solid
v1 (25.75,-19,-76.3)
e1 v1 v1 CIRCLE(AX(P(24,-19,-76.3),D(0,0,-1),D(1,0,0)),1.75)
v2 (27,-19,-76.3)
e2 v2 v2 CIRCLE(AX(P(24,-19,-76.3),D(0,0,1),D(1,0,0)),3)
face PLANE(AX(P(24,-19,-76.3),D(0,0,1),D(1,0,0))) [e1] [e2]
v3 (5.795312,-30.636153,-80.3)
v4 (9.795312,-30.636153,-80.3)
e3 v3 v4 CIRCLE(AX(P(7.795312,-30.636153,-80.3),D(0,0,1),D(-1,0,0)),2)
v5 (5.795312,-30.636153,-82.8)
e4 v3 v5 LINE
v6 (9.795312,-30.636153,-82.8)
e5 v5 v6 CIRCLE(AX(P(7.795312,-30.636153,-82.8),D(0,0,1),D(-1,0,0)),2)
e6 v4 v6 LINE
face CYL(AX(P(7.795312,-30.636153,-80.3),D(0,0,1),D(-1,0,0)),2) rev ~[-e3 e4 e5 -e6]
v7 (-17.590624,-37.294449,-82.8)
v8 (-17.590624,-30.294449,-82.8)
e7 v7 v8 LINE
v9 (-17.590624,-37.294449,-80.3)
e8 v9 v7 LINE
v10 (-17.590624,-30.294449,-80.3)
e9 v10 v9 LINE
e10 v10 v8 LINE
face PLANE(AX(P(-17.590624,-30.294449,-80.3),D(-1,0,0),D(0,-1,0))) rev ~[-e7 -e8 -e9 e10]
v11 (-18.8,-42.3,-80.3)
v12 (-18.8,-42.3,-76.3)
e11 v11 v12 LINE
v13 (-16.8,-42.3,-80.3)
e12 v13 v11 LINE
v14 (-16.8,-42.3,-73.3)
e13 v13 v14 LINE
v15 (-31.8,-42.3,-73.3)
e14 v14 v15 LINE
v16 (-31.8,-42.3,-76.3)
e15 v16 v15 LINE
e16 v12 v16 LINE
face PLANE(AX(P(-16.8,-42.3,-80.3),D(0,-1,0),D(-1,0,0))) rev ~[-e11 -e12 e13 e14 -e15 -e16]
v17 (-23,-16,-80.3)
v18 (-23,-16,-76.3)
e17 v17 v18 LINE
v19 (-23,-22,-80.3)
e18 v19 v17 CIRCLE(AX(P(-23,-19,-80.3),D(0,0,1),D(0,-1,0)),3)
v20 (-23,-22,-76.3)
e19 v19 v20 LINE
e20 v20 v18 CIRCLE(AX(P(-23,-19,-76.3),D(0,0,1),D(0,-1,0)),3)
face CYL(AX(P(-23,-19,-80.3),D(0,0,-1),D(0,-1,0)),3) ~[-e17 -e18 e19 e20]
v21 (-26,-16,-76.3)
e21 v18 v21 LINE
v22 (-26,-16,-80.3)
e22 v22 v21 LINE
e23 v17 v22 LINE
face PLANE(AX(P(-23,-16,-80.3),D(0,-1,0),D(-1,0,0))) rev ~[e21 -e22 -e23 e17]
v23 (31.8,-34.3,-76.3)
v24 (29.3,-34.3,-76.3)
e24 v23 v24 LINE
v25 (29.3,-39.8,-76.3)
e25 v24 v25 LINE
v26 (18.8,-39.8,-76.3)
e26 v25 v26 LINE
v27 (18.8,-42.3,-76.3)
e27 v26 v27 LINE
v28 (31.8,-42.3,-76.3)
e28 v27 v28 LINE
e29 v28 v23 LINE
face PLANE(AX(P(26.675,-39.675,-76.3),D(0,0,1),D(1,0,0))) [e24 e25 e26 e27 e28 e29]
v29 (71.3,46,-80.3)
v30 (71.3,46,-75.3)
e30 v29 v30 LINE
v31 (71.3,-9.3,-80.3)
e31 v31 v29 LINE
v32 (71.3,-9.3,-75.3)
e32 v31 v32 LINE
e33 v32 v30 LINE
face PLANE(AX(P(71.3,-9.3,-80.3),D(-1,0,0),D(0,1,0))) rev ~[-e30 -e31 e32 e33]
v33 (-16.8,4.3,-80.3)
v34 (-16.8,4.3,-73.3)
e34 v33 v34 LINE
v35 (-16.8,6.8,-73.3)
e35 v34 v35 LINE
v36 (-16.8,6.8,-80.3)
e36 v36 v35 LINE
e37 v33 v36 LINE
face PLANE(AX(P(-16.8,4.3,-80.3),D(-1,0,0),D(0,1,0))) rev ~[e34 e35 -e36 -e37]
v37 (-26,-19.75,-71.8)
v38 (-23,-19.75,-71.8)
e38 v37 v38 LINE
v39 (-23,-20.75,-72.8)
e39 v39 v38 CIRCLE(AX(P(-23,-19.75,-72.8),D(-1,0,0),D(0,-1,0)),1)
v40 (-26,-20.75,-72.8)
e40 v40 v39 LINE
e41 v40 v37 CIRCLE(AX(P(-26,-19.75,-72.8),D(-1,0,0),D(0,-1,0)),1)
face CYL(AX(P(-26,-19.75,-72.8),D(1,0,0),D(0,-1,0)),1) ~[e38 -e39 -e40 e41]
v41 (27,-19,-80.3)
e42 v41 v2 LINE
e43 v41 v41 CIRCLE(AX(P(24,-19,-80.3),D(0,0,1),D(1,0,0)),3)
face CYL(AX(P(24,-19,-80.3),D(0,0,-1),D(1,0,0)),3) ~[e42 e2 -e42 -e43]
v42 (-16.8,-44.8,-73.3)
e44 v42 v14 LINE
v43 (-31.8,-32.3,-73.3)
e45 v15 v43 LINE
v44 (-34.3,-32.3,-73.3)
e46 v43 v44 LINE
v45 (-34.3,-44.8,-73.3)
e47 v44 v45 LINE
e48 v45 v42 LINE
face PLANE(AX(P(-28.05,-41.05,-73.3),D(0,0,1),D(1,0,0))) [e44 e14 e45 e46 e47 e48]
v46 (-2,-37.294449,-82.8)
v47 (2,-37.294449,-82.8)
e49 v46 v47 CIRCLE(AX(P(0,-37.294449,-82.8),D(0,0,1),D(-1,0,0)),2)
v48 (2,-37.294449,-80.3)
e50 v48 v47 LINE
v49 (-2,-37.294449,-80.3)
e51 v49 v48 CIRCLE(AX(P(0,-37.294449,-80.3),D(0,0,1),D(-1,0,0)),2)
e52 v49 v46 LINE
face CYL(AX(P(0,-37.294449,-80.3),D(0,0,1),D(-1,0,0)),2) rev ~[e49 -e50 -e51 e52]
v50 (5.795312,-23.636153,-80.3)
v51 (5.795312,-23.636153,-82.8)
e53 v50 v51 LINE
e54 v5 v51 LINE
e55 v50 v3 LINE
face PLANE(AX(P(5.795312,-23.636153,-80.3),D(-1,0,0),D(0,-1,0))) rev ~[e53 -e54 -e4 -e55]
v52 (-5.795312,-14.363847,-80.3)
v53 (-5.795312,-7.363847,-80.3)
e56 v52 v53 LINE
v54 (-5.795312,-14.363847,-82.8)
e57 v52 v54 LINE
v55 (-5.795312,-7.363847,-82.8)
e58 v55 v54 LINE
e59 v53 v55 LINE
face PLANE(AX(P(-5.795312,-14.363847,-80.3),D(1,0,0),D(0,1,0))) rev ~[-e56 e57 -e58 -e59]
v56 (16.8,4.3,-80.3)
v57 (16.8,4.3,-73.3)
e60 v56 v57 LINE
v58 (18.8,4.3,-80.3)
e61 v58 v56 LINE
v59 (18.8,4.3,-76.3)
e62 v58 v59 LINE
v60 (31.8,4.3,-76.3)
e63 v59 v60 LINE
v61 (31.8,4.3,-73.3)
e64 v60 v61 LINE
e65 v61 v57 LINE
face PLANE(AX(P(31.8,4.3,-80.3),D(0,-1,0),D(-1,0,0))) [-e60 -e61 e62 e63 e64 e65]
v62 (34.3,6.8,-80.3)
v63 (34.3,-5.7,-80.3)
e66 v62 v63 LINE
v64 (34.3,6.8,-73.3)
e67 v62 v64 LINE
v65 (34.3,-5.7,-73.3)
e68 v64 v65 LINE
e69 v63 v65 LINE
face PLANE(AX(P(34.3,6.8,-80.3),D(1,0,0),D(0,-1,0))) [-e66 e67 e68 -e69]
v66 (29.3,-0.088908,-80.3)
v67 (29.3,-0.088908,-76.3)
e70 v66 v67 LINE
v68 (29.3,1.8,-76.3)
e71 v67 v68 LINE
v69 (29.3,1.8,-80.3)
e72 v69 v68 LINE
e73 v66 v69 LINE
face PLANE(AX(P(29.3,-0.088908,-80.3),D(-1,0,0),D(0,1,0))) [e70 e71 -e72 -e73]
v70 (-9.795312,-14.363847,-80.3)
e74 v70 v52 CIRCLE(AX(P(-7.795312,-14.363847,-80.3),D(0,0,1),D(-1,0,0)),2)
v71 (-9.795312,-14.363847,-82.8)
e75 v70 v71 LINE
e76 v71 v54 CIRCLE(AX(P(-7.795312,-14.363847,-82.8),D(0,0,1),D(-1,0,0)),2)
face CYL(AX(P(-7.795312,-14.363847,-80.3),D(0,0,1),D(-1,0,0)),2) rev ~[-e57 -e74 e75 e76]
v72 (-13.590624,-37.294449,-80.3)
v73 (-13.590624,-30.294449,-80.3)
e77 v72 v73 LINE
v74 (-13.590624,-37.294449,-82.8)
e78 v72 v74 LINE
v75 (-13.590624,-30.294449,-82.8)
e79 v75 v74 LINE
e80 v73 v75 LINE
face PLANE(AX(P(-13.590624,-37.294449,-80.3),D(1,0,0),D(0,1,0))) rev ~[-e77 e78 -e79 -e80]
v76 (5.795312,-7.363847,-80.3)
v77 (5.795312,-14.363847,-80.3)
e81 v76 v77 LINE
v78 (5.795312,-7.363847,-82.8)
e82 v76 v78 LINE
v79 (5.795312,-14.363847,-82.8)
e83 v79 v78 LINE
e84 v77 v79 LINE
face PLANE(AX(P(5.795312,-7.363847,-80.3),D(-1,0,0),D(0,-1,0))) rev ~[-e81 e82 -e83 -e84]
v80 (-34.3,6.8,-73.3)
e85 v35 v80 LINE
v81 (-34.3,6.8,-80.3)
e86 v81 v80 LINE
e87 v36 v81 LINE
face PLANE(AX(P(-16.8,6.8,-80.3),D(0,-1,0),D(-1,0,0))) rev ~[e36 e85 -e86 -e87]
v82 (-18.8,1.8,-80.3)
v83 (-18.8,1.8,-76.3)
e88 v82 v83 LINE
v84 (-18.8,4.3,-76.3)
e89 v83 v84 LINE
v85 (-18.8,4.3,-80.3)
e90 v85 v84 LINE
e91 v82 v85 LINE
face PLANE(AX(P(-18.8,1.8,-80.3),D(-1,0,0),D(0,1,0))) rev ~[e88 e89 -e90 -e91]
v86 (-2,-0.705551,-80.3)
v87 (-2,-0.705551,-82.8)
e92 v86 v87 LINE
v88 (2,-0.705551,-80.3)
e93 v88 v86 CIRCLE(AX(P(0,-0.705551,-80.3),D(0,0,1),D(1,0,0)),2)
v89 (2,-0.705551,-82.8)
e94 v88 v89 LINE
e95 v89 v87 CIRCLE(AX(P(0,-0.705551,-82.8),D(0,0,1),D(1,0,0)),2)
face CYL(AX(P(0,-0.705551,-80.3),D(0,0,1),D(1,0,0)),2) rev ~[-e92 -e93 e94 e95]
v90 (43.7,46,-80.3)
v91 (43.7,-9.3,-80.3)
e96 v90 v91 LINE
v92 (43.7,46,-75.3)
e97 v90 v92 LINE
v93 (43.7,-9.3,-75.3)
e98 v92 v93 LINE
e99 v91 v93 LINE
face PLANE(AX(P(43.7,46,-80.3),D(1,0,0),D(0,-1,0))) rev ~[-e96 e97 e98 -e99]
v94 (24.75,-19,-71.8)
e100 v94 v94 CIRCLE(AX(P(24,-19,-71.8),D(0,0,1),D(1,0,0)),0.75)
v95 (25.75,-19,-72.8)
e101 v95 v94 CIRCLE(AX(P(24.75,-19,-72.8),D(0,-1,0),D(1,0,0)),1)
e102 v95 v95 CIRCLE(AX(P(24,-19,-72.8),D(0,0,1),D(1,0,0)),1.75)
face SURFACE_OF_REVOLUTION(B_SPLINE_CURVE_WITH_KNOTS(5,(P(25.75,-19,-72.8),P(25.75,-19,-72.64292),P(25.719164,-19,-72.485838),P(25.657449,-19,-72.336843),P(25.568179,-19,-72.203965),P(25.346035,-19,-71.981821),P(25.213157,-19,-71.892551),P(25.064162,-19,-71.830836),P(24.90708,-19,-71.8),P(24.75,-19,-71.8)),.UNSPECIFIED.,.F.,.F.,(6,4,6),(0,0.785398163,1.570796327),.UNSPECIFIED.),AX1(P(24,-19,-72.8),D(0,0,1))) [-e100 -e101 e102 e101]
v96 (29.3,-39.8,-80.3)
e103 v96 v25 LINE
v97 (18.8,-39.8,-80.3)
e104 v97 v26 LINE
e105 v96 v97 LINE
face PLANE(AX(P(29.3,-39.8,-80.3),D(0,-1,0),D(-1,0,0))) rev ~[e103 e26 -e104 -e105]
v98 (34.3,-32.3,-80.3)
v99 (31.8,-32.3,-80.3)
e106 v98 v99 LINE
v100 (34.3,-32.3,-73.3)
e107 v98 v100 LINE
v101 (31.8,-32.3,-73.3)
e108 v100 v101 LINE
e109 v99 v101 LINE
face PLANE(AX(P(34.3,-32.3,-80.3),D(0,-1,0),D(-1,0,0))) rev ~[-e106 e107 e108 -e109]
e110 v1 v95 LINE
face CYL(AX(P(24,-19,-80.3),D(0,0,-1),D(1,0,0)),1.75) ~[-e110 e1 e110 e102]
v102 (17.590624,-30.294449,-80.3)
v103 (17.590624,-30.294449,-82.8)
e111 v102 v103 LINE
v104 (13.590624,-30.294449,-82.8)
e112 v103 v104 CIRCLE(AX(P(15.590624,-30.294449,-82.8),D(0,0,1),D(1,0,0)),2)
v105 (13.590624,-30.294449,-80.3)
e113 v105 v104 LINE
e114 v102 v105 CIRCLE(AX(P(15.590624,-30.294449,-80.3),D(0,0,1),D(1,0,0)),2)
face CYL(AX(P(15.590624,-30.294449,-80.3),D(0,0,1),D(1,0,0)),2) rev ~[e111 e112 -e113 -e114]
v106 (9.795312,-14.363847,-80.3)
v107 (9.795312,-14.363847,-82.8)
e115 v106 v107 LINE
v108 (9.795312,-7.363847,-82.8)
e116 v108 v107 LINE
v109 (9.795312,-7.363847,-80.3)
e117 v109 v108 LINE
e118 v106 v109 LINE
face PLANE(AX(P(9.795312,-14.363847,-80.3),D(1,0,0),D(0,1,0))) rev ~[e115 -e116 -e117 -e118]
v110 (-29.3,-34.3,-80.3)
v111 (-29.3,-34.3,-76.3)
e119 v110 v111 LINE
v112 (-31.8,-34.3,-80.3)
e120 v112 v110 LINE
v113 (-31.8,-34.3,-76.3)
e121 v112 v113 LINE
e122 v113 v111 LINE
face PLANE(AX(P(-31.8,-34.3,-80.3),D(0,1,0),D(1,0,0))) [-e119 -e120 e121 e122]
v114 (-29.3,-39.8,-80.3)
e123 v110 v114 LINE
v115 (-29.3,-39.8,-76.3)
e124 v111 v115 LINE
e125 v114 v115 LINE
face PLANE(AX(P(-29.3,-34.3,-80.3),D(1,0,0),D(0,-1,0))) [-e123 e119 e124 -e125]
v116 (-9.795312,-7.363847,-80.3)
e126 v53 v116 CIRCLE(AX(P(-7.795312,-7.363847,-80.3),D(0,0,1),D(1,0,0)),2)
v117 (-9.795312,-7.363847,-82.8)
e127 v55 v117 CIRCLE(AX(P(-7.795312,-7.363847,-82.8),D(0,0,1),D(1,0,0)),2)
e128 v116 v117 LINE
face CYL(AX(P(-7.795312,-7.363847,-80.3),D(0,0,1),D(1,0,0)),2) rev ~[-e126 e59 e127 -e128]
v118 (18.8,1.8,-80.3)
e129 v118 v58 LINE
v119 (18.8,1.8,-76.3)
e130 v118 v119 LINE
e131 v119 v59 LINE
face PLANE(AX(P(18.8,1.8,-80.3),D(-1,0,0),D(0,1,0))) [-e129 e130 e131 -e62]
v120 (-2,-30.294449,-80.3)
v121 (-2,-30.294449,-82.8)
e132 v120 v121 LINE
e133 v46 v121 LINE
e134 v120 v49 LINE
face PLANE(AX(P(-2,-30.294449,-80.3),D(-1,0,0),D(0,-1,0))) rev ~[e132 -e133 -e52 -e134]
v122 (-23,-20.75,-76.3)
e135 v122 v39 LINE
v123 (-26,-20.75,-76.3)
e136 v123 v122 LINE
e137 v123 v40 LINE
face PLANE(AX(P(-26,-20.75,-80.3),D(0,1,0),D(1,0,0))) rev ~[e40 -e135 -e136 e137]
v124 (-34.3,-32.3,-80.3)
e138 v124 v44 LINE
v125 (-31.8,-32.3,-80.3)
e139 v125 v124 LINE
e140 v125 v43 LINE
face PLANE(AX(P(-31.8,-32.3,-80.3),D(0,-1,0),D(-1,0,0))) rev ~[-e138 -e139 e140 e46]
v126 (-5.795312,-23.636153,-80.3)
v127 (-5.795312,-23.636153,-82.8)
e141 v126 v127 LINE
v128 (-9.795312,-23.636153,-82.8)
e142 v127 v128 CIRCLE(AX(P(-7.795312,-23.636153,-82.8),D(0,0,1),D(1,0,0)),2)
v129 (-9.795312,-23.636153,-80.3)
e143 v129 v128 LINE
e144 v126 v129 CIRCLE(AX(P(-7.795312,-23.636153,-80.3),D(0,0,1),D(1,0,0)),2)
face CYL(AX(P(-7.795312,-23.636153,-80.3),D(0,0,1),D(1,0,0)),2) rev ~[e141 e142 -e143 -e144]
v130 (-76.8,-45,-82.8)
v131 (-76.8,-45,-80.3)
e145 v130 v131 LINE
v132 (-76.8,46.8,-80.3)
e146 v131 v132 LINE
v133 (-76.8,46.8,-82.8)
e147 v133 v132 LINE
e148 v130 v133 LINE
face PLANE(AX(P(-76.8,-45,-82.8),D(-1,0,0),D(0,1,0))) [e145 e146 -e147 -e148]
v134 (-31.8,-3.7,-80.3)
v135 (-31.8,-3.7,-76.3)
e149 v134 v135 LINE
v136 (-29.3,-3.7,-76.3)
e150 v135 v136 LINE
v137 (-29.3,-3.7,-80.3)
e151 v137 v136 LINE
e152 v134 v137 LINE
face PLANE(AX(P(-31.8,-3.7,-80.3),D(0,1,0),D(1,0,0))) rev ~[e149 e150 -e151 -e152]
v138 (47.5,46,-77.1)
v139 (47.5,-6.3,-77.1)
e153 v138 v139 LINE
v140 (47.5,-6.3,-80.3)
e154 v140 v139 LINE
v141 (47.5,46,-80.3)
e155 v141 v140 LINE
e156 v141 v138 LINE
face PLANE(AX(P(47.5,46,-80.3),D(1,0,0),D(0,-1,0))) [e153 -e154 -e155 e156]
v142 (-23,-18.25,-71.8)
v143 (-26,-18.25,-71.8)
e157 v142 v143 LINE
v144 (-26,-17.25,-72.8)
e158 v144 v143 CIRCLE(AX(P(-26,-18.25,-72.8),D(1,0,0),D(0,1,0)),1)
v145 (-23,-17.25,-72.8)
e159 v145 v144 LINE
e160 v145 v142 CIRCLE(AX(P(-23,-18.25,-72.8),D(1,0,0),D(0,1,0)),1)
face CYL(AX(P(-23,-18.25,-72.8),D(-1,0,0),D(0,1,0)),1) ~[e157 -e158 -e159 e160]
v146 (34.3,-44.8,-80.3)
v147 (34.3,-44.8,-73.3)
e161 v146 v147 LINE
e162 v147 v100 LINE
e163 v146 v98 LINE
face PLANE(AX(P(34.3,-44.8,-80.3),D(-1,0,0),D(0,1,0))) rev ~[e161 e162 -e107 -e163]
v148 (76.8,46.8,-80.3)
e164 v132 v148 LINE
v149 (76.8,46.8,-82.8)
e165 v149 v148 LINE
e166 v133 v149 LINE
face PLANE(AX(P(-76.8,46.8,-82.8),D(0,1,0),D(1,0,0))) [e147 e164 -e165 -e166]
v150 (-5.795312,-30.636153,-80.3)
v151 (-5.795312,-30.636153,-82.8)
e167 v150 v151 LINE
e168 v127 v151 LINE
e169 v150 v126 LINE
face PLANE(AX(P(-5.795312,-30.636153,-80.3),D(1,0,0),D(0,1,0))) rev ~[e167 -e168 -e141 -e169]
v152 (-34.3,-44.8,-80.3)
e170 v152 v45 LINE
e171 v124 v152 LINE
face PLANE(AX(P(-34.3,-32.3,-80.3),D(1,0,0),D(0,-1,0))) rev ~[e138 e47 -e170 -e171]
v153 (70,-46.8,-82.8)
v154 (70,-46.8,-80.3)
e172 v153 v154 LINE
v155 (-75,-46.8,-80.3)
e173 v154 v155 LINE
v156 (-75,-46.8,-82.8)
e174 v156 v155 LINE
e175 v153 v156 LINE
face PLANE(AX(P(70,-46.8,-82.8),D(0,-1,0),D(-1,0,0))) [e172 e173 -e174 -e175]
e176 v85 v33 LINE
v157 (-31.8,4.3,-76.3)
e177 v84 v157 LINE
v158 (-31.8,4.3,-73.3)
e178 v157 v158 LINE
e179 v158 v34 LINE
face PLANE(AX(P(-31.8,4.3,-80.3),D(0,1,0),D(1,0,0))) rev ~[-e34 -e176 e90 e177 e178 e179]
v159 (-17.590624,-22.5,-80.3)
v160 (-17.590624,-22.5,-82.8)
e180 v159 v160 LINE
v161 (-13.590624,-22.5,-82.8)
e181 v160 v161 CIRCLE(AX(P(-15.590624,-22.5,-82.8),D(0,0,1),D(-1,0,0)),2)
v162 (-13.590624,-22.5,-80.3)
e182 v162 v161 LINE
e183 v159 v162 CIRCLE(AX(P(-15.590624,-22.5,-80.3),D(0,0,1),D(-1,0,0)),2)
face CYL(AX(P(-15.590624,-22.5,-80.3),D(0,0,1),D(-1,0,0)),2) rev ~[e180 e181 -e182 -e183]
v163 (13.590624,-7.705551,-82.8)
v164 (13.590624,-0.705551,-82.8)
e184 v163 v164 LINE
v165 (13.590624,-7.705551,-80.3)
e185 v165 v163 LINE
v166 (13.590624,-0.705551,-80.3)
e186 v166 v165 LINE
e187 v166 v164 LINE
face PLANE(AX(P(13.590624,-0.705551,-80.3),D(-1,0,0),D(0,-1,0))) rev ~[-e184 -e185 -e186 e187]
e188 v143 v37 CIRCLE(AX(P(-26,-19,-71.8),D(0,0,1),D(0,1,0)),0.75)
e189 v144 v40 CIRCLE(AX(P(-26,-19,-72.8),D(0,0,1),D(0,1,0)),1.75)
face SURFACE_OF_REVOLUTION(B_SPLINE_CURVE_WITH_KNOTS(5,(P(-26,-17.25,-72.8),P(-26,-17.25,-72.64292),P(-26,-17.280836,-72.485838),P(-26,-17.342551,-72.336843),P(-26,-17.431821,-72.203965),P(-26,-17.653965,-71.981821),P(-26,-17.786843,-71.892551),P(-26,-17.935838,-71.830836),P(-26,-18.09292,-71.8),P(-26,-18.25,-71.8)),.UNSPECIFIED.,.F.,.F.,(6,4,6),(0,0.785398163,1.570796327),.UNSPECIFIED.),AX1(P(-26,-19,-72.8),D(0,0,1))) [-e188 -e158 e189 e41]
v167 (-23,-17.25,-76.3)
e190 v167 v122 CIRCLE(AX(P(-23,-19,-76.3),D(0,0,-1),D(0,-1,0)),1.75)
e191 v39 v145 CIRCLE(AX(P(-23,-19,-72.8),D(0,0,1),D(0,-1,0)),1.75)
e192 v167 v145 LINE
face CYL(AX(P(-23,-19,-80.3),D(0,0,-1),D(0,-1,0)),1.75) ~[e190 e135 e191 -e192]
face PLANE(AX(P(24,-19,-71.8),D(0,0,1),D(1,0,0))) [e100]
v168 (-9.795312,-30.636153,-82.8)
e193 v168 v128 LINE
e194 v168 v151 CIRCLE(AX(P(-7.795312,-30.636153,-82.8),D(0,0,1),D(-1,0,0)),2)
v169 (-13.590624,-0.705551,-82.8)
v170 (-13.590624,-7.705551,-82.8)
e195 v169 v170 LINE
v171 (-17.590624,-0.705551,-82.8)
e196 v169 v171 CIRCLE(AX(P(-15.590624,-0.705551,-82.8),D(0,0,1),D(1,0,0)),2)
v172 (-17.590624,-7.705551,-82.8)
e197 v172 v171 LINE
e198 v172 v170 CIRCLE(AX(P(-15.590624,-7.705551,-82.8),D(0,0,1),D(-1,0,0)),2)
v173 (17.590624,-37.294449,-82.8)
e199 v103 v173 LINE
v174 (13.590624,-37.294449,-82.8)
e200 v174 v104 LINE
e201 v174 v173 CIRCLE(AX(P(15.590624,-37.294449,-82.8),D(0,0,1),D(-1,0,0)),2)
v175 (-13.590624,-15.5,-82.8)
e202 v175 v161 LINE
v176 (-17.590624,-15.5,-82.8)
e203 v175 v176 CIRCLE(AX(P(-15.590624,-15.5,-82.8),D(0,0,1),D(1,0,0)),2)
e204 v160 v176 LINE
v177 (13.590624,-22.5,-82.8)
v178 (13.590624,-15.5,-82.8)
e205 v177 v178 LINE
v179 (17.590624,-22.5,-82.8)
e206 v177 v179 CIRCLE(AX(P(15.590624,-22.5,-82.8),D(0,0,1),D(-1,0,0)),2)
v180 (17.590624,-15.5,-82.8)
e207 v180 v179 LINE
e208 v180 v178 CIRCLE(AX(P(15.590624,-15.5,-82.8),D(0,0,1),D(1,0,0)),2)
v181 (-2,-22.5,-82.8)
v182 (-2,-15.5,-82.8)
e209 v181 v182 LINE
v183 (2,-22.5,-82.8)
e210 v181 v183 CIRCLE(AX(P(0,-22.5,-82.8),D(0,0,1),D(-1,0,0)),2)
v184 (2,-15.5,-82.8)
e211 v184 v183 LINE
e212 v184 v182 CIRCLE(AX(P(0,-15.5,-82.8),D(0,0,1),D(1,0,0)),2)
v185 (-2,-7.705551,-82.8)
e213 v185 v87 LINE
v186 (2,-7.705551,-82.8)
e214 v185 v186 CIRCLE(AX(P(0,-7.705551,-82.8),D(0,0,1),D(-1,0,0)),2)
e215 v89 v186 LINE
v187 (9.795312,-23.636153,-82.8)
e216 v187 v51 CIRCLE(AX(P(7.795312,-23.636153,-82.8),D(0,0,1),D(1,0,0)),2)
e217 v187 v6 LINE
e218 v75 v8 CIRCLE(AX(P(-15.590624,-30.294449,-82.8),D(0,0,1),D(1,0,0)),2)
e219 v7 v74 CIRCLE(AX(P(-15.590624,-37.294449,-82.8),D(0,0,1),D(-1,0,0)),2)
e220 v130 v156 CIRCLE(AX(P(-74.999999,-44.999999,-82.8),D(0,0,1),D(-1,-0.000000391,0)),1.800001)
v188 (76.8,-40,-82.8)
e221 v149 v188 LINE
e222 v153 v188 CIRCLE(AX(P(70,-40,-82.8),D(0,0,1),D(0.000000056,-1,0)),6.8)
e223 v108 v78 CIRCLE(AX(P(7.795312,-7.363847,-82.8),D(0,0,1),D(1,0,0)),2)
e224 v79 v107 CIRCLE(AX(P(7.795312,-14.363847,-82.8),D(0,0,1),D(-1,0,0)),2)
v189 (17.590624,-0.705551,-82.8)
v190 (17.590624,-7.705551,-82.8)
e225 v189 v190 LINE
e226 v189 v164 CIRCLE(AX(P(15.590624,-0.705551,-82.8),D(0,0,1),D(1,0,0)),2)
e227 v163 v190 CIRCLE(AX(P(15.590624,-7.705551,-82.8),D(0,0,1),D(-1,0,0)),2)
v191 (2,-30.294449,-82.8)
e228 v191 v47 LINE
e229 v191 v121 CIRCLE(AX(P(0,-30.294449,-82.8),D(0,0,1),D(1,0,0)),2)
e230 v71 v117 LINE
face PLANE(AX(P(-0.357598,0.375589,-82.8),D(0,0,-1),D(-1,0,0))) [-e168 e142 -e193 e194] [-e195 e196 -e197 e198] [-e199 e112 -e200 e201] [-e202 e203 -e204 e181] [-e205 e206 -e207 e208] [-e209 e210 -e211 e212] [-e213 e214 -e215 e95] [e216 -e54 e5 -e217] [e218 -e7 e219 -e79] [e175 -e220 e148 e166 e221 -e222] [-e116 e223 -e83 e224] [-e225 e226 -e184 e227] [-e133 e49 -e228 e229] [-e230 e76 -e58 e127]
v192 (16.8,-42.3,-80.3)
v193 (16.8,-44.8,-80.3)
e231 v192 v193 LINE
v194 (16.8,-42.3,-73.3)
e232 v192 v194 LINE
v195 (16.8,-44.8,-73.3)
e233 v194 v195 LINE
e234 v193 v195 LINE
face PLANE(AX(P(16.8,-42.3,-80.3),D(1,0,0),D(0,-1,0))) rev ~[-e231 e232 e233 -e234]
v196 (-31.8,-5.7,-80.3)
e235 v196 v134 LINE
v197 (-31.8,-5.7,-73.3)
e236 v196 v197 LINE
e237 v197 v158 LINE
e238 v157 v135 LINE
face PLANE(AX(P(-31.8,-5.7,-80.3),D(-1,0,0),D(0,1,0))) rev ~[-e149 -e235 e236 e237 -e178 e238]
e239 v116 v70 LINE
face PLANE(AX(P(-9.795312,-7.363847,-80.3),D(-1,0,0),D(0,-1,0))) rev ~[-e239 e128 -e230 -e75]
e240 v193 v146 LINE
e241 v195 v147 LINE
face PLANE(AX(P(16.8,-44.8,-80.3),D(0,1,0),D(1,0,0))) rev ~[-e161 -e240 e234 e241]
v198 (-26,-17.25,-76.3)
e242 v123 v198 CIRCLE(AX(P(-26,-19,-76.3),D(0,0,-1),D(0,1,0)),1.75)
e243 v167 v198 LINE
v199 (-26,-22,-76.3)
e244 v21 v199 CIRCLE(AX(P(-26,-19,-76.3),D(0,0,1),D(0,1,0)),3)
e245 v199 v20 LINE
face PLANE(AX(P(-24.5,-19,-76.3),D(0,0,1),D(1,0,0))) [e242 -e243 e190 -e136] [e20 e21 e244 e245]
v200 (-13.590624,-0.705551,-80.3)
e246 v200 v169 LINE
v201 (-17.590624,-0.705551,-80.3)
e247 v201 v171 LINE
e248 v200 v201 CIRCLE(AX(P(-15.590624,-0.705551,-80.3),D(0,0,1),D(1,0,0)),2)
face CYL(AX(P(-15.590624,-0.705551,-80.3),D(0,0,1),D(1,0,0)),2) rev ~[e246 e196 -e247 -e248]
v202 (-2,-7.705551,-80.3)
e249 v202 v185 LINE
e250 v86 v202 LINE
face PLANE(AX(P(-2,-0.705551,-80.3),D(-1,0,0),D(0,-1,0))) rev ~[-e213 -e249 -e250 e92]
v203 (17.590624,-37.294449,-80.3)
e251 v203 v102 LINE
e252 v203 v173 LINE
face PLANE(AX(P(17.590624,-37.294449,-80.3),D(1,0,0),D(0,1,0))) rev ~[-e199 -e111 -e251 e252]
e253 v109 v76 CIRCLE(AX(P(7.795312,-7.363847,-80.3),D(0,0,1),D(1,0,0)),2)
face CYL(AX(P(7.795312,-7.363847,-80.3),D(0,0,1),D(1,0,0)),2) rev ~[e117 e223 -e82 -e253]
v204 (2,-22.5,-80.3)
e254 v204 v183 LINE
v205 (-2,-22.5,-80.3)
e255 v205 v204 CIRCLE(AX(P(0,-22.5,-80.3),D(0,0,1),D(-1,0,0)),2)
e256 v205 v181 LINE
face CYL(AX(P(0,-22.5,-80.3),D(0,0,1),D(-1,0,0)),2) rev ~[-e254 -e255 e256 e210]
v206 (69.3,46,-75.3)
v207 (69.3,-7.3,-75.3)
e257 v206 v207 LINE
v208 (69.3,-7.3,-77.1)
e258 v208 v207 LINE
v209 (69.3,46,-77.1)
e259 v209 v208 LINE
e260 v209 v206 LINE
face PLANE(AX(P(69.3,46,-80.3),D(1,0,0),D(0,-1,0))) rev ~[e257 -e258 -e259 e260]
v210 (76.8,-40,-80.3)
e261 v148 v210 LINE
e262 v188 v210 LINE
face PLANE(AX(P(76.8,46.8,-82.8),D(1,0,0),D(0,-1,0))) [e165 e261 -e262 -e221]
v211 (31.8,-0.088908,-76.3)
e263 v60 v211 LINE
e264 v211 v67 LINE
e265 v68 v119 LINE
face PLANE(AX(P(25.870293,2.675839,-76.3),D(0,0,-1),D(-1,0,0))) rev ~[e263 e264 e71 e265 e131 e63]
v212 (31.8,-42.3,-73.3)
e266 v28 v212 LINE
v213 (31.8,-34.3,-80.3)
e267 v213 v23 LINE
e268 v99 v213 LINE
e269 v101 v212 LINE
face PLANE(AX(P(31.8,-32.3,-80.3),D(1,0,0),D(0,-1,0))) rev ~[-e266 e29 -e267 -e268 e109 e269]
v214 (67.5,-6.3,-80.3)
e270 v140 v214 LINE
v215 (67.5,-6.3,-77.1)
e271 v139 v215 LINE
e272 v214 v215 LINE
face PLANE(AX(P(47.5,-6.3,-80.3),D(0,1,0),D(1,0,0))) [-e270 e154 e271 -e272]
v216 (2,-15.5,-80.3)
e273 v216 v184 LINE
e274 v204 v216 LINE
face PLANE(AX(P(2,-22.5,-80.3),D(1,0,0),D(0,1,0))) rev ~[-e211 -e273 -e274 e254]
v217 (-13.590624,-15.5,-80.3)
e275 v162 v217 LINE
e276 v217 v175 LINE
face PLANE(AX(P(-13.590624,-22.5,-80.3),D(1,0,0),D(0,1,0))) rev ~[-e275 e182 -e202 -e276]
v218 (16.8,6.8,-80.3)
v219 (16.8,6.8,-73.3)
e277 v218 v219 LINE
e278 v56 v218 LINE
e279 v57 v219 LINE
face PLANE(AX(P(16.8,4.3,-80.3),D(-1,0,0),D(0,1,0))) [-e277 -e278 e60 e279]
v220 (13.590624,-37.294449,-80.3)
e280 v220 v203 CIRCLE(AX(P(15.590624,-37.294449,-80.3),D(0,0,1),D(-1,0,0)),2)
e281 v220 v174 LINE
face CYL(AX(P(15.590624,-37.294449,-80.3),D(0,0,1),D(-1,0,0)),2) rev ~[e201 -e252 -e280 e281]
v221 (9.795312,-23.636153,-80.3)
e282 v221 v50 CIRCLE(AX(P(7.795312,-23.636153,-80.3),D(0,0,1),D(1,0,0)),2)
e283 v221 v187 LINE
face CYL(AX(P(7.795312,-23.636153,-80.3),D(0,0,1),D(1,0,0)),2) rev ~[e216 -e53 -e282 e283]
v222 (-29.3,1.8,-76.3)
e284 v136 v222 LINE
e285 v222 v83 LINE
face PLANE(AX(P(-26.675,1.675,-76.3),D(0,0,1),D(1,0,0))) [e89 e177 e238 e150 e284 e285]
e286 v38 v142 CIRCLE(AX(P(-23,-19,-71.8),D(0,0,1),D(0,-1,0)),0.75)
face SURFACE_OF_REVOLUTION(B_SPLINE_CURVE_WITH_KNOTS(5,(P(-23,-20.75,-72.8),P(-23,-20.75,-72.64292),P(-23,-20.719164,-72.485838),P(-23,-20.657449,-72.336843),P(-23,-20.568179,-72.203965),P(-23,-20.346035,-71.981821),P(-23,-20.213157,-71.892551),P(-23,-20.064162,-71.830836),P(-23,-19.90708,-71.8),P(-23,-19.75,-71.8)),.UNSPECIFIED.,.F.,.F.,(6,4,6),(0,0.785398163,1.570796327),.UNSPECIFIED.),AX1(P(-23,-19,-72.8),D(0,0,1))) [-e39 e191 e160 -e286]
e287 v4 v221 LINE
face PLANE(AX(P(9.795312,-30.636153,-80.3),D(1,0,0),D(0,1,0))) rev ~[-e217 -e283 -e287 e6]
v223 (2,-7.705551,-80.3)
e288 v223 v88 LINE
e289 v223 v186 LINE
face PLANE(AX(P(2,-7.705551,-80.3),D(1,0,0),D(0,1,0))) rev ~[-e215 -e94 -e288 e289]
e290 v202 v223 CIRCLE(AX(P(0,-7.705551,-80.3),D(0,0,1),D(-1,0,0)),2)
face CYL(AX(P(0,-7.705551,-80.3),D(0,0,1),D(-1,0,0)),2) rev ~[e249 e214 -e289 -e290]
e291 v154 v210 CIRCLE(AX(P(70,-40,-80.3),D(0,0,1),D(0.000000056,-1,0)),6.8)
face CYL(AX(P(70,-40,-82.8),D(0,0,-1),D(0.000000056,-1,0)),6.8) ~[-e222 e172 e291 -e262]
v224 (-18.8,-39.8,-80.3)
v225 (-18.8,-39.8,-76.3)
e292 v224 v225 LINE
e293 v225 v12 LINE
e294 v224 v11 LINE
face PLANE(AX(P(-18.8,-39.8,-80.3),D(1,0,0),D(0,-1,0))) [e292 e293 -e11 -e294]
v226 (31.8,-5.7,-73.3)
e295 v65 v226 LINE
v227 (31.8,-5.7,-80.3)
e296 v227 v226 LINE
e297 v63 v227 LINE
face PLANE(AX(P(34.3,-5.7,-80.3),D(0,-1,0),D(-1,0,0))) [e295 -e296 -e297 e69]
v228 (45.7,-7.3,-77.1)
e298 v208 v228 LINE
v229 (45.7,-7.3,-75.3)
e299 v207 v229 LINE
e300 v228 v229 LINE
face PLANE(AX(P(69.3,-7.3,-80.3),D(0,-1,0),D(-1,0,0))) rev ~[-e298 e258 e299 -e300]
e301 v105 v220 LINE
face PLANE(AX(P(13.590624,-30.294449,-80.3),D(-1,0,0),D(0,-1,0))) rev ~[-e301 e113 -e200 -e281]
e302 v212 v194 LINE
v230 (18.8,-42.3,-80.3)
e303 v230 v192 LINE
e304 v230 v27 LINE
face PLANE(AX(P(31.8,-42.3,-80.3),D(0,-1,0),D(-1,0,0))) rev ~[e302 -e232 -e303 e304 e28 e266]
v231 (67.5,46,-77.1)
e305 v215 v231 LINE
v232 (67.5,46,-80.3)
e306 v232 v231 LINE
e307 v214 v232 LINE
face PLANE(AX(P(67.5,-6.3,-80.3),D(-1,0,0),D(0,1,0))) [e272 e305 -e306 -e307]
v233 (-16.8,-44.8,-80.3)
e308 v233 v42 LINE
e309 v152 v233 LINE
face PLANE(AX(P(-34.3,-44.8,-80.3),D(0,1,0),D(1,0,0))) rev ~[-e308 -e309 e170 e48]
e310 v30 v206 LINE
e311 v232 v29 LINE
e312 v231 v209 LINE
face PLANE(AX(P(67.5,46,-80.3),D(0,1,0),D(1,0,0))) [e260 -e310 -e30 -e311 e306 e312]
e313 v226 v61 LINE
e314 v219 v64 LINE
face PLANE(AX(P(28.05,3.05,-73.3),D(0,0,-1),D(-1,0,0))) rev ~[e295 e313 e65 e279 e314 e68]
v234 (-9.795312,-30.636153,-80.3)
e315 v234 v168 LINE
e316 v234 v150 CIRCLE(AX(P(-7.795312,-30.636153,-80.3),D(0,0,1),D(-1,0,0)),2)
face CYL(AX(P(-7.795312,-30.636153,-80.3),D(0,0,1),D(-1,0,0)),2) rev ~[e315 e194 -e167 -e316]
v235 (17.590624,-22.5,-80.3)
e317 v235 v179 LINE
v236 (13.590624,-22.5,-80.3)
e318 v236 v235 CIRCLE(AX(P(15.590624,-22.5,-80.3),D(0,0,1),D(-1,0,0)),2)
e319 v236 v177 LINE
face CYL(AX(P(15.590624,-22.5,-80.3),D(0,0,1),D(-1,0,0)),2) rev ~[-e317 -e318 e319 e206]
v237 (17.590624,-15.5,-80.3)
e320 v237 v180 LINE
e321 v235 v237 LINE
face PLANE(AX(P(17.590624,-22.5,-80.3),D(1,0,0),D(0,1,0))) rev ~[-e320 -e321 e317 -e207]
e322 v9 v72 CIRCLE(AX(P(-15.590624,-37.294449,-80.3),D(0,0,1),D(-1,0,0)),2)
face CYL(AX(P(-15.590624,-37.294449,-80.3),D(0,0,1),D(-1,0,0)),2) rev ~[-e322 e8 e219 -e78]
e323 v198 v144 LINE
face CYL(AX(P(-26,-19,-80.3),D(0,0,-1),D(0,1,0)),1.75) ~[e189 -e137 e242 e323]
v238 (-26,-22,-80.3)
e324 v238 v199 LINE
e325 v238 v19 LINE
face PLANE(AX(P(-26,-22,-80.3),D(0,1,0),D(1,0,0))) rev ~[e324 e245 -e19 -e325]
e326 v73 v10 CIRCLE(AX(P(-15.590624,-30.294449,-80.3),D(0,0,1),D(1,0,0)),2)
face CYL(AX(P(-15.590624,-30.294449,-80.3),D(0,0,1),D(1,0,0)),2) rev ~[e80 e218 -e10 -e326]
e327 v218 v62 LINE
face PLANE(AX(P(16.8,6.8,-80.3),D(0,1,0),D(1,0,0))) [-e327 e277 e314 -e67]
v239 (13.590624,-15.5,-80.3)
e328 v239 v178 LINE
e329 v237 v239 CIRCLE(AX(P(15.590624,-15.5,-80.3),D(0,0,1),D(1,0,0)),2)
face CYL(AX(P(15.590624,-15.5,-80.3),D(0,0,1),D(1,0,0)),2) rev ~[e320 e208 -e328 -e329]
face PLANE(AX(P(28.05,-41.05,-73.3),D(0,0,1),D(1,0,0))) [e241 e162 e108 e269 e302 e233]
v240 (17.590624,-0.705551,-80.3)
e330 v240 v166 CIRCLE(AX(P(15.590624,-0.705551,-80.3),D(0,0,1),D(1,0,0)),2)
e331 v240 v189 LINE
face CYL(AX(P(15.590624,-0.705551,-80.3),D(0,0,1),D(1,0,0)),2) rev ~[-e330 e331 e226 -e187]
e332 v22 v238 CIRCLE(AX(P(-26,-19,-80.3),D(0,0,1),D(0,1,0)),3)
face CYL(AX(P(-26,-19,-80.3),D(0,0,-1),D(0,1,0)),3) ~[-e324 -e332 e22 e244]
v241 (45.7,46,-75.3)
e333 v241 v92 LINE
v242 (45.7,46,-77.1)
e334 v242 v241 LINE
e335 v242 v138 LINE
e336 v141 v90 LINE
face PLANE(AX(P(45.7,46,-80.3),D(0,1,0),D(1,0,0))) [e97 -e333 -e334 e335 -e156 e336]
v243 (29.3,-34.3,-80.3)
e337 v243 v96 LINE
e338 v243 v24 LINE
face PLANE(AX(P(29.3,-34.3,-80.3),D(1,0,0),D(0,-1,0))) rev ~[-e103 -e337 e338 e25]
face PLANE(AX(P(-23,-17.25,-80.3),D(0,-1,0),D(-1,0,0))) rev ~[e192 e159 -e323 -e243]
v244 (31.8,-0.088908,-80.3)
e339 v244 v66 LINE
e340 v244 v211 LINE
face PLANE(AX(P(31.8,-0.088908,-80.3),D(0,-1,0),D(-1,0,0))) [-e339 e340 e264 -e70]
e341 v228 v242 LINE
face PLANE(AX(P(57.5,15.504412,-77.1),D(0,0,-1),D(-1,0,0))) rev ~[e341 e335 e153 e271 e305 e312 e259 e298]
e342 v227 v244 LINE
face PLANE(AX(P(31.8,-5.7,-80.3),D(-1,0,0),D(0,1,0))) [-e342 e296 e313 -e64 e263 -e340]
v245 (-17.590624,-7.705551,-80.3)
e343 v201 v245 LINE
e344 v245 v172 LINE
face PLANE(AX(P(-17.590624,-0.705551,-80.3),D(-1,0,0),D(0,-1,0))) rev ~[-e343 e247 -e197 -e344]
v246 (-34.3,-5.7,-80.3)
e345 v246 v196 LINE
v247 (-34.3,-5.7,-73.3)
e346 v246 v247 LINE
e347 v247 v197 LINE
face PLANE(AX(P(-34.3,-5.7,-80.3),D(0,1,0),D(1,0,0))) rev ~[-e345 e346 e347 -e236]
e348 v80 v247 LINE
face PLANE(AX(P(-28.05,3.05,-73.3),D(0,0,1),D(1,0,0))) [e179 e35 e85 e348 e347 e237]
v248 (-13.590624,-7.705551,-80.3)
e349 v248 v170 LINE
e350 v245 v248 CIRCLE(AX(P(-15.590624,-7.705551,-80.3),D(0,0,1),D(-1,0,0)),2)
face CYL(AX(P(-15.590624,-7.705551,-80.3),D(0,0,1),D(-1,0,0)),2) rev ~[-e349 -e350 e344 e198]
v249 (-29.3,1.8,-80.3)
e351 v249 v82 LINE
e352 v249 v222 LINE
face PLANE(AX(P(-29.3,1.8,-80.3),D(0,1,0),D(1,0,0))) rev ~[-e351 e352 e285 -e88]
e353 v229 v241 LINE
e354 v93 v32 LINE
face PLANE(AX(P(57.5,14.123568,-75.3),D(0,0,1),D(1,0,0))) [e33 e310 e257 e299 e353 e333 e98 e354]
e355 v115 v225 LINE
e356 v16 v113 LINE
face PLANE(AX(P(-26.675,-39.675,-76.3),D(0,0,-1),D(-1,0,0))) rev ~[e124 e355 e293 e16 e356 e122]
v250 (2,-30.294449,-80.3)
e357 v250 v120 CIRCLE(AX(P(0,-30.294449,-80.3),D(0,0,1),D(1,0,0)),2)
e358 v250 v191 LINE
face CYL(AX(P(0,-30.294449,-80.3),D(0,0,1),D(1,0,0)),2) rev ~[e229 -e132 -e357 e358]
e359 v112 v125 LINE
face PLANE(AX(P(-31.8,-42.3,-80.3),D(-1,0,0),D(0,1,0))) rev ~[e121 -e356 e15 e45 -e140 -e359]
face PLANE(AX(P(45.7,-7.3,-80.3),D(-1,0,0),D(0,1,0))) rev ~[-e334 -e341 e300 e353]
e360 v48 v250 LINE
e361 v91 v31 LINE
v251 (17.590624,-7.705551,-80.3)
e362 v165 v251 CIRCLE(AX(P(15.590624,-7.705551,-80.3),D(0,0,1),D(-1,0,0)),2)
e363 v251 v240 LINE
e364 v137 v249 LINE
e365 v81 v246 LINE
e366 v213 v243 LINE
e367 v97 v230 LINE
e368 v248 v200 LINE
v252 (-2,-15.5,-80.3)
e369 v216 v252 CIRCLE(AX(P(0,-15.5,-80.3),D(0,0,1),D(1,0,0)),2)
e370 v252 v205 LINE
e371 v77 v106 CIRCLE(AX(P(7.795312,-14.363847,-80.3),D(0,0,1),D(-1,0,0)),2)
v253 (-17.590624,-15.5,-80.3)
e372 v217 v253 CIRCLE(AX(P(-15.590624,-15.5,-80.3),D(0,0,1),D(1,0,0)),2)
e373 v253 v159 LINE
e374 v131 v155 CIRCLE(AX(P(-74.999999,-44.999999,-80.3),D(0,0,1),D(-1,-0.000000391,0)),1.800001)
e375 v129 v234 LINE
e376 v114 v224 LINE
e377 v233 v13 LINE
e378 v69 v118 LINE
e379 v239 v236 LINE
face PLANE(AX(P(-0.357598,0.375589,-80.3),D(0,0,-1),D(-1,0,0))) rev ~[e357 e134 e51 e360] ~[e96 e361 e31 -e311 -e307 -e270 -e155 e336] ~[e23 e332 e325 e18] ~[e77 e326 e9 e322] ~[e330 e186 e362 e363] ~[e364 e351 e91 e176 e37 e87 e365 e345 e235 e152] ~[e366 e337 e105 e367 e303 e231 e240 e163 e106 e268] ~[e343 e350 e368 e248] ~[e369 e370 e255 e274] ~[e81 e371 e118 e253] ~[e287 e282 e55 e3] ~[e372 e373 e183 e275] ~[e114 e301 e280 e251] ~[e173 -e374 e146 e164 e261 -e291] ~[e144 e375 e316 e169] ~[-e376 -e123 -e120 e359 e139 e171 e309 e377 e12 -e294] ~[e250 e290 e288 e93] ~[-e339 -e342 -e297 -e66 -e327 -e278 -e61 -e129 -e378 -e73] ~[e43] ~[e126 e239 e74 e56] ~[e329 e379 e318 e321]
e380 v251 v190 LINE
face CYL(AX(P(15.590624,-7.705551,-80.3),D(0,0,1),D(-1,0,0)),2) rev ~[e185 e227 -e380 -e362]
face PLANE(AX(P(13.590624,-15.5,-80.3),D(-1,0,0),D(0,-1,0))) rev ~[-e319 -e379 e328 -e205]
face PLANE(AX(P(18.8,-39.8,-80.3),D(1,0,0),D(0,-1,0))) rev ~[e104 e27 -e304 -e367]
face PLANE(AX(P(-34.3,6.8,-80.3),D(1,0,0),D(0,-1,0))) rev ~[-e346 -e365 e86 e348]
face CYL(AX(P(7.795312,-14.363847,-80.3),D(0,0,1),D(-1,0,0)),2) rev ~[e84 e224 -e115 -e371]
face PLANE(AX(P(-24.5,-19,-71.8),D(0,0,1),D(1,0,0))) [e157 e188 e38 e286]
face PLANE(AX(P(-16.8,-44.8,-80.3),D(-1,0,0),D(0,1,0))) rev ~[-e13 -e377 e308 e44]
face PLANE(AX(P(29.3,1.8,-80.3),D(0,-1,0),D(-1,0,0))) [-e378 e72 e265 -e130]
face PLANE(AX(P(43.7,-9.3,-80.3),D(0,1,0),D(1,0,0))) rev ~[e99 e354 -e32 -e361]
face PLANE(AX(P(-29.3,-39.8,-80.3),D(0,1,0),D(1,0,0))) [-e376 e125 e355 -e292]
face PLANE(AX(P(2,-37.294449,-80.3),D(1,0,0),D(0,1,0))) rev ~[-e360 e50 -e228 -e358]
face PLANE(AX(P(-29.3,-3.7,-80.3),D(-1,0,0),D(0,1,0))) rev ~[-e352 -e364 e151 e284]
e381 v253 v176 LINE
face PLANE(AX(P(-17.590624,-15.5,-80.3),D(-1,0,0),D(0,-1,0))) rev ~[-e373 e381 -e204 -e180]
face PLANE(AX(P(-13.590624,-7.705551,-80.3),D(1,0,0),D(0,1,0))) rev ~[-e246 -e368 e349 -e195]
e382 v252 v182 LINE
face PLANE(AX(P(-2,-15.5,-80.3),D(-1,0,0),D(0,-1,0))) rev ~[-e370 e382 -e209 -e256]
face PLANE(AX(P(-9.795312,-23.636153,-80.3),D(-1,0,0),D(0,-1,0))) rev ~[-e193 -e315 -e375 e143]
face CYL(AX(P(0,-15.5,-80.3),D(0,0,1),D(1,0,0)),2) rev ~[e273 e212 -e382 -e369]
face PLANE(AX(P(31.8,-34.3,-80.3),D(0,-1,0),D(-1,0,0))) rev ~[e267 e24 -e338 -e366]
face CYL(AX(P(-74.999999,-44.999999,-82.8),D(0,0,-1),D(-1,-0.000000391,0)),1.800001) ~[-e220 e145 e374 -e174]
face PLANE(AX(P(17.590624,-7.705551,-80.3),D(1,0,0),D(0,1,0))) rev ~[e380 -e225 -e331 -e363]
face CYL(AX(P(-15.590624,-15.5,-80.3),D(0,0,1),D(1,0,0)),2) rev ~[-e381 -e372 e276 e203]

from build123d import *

# Parameters (mm, degrees)
PAD007_DEPTH      = 2.5
PAD008_DEPTH      = 5
PAD009_DEPTH      = 3.2
CYLINDER001_R     = 1.75
CYLINDER001_DEPTH = 8.5
FILLET004_R       = 1
CYLINDER002_R     = 3
CYLINDER002_DEPTH = 4
PAD011_DEPTH      = 8.5
FILLET005_R       = 1
PAD012_DEPTH      = 4
PAD013_DEPTH      = 7
PAD014_DEPTH      = 4
POCKET003_DEPTH   = 3.5


with BuildPart() as part:
    # Sketch009 (on DatumPlane) → Pad007 (new body)
    with BuildSketch(Plane.XY.offset(-82.8)):
        with BuildLine():
            Line((-76.8, 46.8), (76.8, 46.8))
            Line((76.8, 46.8), (76.8, -40))
            ThreePointArc((70, -46.8), (74.808326, -44.808326), (76.8, -40))
            Line((70, -46.8), (-75, -46.8))
            ThreePointArc((-76.8, -45), (-76.272792, -46.272792), (-75, -46.8))
            Line((-76.8, -45), (-76.8, 46.8))
        make_face()
    extrude(amount=PAD007_DEPTH)

    # Sketch010 (on DatumPlane) → Pad008 (join)
    with BuildSketch(Plane(origin=(57.5, 19.5, -80.3), x_dir=(1, 0, 0), z_dir=(0, 0, 1))):
        Polygon((-11.8, 26.5), (-13.8, 26.5), (-13.8, -28.8), (13.8, -28.8), (13.8, 26.5), (11.8, 26.5), (11.8, -26.8), (-11.8, -26.8), align=None)
    extrude(amount=PAD008_DEPTH)

    # Sketch011 (on DatumPlane) → Pad009 (join)
    with BuildSketch(Plane.XY.offset(-80.3)):
        Polygon((45.7, 46), (47.5, 46), (47.5, -6.3), (67.5, -6.3), (67.5, 46), (69.3, 46), (69.3, -7.3), (45.7, -7.3), align=None)
    extrude(amount=PAD009_DEPTH)

    # Cylinder001 → Cylinder001 (join)
    with BuildSketch(Plane(origin=(24, -19, -80.3), x_dir=(1, 0, 0), z_dir=(0, 0, 1))):
        Circle(CYLINDER001_R)
    extrude(amount=CYLINDER001_DEPTH)

    # Fillet004
    fillet004_edges = [part.edges().sort_by_distance(p)[0] for p in [
        (22.25, -19, -71.8),
    ]]
    fillet(fillet004_edges, radius=FILLET004_R)

    # Cylinder002 → Cylinder002 (join)
    with BuildSketch(Plane(origin=(24, -19, -80.3), x_dir=(1, 0, 0), z_dir=(0, 0, 1))):
        Circle(CYLINDER002_R)
    extrude(amount=CYLINDER002_DEPTH)

    # Sketch016 (on Face1 of Cylinder002) → Pad011 (join)
    with BuildSketch(Plane(origin=(24, -19, -80.3), x_dir=(1, 0, 0), z_dir=(0, 0, 1))):
        with BuildLine():
            ThreePointArc((-50, 1.75), (-51.75, 0), (-50, -1.75))
            Line((-50, -1.75), (-47, -1.75))
            ThreePointArc((-47, -1.75), (-45.25, 0), (-47, 1.75))
            Line((-47, 1.75), (-50, 1.75))
        make_face()
    extrude(amount=PAD011_DEPTH)

    # Fillet005
    fillet005_edges = [part.edges().sort_by_distance(p)[0] for p in [
        (-24.5, -20.75, -71.8),
        (-27.75, -19, -71.8),
        (-24.5, -17.25, -71.8),
        (-21.25, -19, -71.8),
    ]]
    fillet(fillet005_edges, radius=FILLET005_R)

    # Sketch017 (on Face4 of Fillet005) → Pad012 (join)
    with BuildSketch(Plane.XY.offset(-80.3)):
        with BuildLine():
            ThreePointArc((-26, -16), (-29, -19), (-26, -22))
            Line((-26, -22), (-23, -22))
            ThreePointArc((-23, -22), (-20, -19), (-23, -16))
            Line((-23, -16), (-26, -16))
        make_face()
    extrude(amount=PAD012_DEPTH)

    # Sketch018 (on Face1 of Pad012) → Pad013 (join)
    with BuildSketch(Plane.XY.offset(-80.3)):
        Polygon((31.8, -32.3), (31.8, -42.3), (16.8, -42.3), (16.8, -44.8), (34.3, -44.8), (34.3, -32.3), align=None)
        Polygon((-31.8, -5.7), (-31.8, 4.3), (-16.8, 4.3), (-16.8, 6.8), (-34.3, 6.8), (-34.3, -5.7), align=None)
        Polygon((16.8, 4.3), (16.8, 6.8), (34.3, 6.8), (34.3, -5.7), (31.8, -5.7), (31.8, 4.3), align=None)
        Polygon((-31.8, -32.3), (-34.3, -32.3), (-34.3, -44.8), (-16.8, -44.8), (-16.8, -42.3), (-31.8, -42.3), align=None)
    extrude(amount=PAD013_DEPTH)

    # Sketch019 (on Face1 of Pad013) → Pad014 (join)
    with BuildSketch(Plane.XY.offset(-80.3)):
        Polygon((18.8, 1.8), (18.8, 4.3), (31.8, 4.3), (31.8, -0.088908), (29.3, -0.088908), (29.3, 1.8), align=None)
        Polygon((-31.8, -3.7), (-29.3, -3.7), (-29.3, 1.8), (-18.8, 1.8), (-18.8, 4.3), (-31.8, 4.3), align=None)
        Polygon((-31.8, -42.3), (-31.8, -34.3), (-29.3, -34.3), (-29.3, -39.8), (-18.8, -39.8), (-18.8, -42.3), align=None)
        Polygon((31.8, -34.3), (29.3, -34.3), (29.3, -39.8), (18.8, -39.8), (18.8, -42.3), (31.8, -42.3), align=None)
    extrude(amount=PAD014_DEPTH)

    # Sketch020 (on Face1 of Pad014) → Pocket003 (cut)
    with BuildSketch(Plane.XY.offset(-80.3)):
        with BuildLine():
            ThreePointArc((2, -15.5), (0, -13.5), (-2, -15.5))
            Line((-2, -15.5), (-2, -22.5))
            ThreePointArc((-2, -22.5), (0, -24.5), (2, -22.5))
            Line((2, -22.5), (2, -15.5))
        make_face()
        with BuildLine():
            ThreePointArc((-2, -7.705551), (0, -9.705551), (2, -7.705551))
            Line((2, -7.705551), (2, -0.705551))
            ThreePointArc((2, -0.705551), (0, 1.294449), (-2, -0.705551))
            Line((-2, -0.705551), (-2, -7.705551))
        make_face()
        with BuildLine():
            ThreePointArc((-2, -37.294449), (0, -39.294449), (2, -37.294449))
            Line((2, -37.294449), (2, -30.294449))
            ThreePointArc((2, -30.294449), (0, -28.294449), (-2, -30.294449))
            Line((-2, -30.294449), (-2, -37.294449))
        make_face()
        with BuildLine():
            ThreePointArc((-13.590624, -15.5), (-15.590624, -13.5), (-17.590624, -15.5))
            Line((-17.590624, -15.5), (-17.590624, -22.5))
            ThreePointArc((-17.590624, -22.5), (-15.590624, -24.5), (-13.590624, -22.5))
            Line((-13.590624, -22.5), (-13.590624, -15.5))
        make_face()
        with BuildLine():
            ThreePointArc((-17.590624, -7.705551), (-15.590624, -9.705551), (-13.590624, -7.705551))
            Line((-13.590624, -7.705551), (-13.590624, -0.705551))
            ThreePointArc((-13.590624, -0.705551), (-15.590624, 1.294449), (-17.590624, -0.705551))
            Line((-17.590624, -0.705551), (-17.590624, -7.705551))
        make_face()
        with BuildLine():
            ThreePointArc((-17.590624, -37.294449), (-15.590624, -39.294449), (-13.590624, -37.294449))
            Line((-13.590624, -37.294449), (-13.590624, -30.294449))
            ThreePointArc((-13.590624, -30.294449), (-15.590624, -28.294449), (-17.590624, -30.294449))
            Line((-17.590624, -30.294449), (-17.590624, -37.294449))
        make_face()
        with BuildLine():
            ThreePointArc((17.590624, -15.5), (15.590624, -13.5), (13.590624, -15.5))
            Line((13.590624, -15.5), (13.590624, -22.5))
            ThreePointArc((13.590624, -22.5), (15.590624, -24.5), (17.590624, -22.5))
            Line((17.590624, -22.5), (17.590624, -15.5))
        make_face()
        with BuildLine():
            ThreePointArc((13.590624, -7.705551), (15.590624, -9.705551), (17.590624, -7.705551))
            Line((17.590624, -7.705551), (17.590624, -0.705551))
            ThreePointArc((17.590624, -0.705551), (15.590624, 1.294449), (13.590624, -0.705551))
            Line((13.590624, -0.705551), (13.590624, -7.705551))
        make_face()
        with BuildLine():
            ThreePointArc((13.590624, -37.294449), (15.590624, -39.294449), (17.590624, -37.294449))
            Line((17.590624, -37.294449), (17.590624, -30.294449))
            ThreePointArc((17.590624, -30.294449), (15.590624, -28.294449), (13.590624, -30.294449))
            Line((13.590624, -30.294449), (13.590624, -37.294449))
        make_face()
        with BuildLine():
            ThreePointArc((-5.795312, -7.363847), (-7.795312, -5.363847), (-9.795312, -7.363847))
            Line((-9.795312, -7.363847), (-9.795312, -14.363847))
            ThreePointArc((-9.795312, -14.363847), (-7.795312, -16.363847), (-5.795312, -14.363847))
            Line((-5.795312, -14.363847), (-5.795312, -7.363847))
        make_face()
        with BuildLine():
            ThreePointArc((-9.795312, -30.636153), (-7.795312, -32.636153), (-5.795312, -30.636153))
            Line((-5.795312, -30.636153), (-5.795312, -23.636153))
            ThreePointArc((-5.795312, -23.636153), (-7.795312, -21.636153), (-9.795312, -23.636153))
            Line((-9.795312, -23.636153), (-9.795312, -30.636153))
        make_face()
        with BuildLine():
            ThreePointArc((9.795312, -7.363847), (7.795312, -5.363847), (5.795312, -7.363847))
            Line((5.795312, -7.363847), (5.795312, -14.363847))
            ThreePointArc((5.795312, -14.363847), (7.795312, -16.363847), (9.795312, -14.363847))
            Line((9.795312, -14.363847), (9.795312, -7.363847))
        make_face()
        with BuildLine():
            ThreePointArc((5.795312, -30.636153), (7.795312, -32.636153), (9.795312, -30.636153))
            Line((9.795312, -30.636153), (9.795312, -23.636153))
            ThreePointArc((9.795312, -23.636153), (7.795312, -21.636153), (5.795312, -23.636153))
            Line((5.795312, -23.636153), (5.795312, -30.636153))
        make_face()
    extrude(amount=-POCKET003_DEPTH, mode=Mode.SUBTRACT)


solid = part.part
